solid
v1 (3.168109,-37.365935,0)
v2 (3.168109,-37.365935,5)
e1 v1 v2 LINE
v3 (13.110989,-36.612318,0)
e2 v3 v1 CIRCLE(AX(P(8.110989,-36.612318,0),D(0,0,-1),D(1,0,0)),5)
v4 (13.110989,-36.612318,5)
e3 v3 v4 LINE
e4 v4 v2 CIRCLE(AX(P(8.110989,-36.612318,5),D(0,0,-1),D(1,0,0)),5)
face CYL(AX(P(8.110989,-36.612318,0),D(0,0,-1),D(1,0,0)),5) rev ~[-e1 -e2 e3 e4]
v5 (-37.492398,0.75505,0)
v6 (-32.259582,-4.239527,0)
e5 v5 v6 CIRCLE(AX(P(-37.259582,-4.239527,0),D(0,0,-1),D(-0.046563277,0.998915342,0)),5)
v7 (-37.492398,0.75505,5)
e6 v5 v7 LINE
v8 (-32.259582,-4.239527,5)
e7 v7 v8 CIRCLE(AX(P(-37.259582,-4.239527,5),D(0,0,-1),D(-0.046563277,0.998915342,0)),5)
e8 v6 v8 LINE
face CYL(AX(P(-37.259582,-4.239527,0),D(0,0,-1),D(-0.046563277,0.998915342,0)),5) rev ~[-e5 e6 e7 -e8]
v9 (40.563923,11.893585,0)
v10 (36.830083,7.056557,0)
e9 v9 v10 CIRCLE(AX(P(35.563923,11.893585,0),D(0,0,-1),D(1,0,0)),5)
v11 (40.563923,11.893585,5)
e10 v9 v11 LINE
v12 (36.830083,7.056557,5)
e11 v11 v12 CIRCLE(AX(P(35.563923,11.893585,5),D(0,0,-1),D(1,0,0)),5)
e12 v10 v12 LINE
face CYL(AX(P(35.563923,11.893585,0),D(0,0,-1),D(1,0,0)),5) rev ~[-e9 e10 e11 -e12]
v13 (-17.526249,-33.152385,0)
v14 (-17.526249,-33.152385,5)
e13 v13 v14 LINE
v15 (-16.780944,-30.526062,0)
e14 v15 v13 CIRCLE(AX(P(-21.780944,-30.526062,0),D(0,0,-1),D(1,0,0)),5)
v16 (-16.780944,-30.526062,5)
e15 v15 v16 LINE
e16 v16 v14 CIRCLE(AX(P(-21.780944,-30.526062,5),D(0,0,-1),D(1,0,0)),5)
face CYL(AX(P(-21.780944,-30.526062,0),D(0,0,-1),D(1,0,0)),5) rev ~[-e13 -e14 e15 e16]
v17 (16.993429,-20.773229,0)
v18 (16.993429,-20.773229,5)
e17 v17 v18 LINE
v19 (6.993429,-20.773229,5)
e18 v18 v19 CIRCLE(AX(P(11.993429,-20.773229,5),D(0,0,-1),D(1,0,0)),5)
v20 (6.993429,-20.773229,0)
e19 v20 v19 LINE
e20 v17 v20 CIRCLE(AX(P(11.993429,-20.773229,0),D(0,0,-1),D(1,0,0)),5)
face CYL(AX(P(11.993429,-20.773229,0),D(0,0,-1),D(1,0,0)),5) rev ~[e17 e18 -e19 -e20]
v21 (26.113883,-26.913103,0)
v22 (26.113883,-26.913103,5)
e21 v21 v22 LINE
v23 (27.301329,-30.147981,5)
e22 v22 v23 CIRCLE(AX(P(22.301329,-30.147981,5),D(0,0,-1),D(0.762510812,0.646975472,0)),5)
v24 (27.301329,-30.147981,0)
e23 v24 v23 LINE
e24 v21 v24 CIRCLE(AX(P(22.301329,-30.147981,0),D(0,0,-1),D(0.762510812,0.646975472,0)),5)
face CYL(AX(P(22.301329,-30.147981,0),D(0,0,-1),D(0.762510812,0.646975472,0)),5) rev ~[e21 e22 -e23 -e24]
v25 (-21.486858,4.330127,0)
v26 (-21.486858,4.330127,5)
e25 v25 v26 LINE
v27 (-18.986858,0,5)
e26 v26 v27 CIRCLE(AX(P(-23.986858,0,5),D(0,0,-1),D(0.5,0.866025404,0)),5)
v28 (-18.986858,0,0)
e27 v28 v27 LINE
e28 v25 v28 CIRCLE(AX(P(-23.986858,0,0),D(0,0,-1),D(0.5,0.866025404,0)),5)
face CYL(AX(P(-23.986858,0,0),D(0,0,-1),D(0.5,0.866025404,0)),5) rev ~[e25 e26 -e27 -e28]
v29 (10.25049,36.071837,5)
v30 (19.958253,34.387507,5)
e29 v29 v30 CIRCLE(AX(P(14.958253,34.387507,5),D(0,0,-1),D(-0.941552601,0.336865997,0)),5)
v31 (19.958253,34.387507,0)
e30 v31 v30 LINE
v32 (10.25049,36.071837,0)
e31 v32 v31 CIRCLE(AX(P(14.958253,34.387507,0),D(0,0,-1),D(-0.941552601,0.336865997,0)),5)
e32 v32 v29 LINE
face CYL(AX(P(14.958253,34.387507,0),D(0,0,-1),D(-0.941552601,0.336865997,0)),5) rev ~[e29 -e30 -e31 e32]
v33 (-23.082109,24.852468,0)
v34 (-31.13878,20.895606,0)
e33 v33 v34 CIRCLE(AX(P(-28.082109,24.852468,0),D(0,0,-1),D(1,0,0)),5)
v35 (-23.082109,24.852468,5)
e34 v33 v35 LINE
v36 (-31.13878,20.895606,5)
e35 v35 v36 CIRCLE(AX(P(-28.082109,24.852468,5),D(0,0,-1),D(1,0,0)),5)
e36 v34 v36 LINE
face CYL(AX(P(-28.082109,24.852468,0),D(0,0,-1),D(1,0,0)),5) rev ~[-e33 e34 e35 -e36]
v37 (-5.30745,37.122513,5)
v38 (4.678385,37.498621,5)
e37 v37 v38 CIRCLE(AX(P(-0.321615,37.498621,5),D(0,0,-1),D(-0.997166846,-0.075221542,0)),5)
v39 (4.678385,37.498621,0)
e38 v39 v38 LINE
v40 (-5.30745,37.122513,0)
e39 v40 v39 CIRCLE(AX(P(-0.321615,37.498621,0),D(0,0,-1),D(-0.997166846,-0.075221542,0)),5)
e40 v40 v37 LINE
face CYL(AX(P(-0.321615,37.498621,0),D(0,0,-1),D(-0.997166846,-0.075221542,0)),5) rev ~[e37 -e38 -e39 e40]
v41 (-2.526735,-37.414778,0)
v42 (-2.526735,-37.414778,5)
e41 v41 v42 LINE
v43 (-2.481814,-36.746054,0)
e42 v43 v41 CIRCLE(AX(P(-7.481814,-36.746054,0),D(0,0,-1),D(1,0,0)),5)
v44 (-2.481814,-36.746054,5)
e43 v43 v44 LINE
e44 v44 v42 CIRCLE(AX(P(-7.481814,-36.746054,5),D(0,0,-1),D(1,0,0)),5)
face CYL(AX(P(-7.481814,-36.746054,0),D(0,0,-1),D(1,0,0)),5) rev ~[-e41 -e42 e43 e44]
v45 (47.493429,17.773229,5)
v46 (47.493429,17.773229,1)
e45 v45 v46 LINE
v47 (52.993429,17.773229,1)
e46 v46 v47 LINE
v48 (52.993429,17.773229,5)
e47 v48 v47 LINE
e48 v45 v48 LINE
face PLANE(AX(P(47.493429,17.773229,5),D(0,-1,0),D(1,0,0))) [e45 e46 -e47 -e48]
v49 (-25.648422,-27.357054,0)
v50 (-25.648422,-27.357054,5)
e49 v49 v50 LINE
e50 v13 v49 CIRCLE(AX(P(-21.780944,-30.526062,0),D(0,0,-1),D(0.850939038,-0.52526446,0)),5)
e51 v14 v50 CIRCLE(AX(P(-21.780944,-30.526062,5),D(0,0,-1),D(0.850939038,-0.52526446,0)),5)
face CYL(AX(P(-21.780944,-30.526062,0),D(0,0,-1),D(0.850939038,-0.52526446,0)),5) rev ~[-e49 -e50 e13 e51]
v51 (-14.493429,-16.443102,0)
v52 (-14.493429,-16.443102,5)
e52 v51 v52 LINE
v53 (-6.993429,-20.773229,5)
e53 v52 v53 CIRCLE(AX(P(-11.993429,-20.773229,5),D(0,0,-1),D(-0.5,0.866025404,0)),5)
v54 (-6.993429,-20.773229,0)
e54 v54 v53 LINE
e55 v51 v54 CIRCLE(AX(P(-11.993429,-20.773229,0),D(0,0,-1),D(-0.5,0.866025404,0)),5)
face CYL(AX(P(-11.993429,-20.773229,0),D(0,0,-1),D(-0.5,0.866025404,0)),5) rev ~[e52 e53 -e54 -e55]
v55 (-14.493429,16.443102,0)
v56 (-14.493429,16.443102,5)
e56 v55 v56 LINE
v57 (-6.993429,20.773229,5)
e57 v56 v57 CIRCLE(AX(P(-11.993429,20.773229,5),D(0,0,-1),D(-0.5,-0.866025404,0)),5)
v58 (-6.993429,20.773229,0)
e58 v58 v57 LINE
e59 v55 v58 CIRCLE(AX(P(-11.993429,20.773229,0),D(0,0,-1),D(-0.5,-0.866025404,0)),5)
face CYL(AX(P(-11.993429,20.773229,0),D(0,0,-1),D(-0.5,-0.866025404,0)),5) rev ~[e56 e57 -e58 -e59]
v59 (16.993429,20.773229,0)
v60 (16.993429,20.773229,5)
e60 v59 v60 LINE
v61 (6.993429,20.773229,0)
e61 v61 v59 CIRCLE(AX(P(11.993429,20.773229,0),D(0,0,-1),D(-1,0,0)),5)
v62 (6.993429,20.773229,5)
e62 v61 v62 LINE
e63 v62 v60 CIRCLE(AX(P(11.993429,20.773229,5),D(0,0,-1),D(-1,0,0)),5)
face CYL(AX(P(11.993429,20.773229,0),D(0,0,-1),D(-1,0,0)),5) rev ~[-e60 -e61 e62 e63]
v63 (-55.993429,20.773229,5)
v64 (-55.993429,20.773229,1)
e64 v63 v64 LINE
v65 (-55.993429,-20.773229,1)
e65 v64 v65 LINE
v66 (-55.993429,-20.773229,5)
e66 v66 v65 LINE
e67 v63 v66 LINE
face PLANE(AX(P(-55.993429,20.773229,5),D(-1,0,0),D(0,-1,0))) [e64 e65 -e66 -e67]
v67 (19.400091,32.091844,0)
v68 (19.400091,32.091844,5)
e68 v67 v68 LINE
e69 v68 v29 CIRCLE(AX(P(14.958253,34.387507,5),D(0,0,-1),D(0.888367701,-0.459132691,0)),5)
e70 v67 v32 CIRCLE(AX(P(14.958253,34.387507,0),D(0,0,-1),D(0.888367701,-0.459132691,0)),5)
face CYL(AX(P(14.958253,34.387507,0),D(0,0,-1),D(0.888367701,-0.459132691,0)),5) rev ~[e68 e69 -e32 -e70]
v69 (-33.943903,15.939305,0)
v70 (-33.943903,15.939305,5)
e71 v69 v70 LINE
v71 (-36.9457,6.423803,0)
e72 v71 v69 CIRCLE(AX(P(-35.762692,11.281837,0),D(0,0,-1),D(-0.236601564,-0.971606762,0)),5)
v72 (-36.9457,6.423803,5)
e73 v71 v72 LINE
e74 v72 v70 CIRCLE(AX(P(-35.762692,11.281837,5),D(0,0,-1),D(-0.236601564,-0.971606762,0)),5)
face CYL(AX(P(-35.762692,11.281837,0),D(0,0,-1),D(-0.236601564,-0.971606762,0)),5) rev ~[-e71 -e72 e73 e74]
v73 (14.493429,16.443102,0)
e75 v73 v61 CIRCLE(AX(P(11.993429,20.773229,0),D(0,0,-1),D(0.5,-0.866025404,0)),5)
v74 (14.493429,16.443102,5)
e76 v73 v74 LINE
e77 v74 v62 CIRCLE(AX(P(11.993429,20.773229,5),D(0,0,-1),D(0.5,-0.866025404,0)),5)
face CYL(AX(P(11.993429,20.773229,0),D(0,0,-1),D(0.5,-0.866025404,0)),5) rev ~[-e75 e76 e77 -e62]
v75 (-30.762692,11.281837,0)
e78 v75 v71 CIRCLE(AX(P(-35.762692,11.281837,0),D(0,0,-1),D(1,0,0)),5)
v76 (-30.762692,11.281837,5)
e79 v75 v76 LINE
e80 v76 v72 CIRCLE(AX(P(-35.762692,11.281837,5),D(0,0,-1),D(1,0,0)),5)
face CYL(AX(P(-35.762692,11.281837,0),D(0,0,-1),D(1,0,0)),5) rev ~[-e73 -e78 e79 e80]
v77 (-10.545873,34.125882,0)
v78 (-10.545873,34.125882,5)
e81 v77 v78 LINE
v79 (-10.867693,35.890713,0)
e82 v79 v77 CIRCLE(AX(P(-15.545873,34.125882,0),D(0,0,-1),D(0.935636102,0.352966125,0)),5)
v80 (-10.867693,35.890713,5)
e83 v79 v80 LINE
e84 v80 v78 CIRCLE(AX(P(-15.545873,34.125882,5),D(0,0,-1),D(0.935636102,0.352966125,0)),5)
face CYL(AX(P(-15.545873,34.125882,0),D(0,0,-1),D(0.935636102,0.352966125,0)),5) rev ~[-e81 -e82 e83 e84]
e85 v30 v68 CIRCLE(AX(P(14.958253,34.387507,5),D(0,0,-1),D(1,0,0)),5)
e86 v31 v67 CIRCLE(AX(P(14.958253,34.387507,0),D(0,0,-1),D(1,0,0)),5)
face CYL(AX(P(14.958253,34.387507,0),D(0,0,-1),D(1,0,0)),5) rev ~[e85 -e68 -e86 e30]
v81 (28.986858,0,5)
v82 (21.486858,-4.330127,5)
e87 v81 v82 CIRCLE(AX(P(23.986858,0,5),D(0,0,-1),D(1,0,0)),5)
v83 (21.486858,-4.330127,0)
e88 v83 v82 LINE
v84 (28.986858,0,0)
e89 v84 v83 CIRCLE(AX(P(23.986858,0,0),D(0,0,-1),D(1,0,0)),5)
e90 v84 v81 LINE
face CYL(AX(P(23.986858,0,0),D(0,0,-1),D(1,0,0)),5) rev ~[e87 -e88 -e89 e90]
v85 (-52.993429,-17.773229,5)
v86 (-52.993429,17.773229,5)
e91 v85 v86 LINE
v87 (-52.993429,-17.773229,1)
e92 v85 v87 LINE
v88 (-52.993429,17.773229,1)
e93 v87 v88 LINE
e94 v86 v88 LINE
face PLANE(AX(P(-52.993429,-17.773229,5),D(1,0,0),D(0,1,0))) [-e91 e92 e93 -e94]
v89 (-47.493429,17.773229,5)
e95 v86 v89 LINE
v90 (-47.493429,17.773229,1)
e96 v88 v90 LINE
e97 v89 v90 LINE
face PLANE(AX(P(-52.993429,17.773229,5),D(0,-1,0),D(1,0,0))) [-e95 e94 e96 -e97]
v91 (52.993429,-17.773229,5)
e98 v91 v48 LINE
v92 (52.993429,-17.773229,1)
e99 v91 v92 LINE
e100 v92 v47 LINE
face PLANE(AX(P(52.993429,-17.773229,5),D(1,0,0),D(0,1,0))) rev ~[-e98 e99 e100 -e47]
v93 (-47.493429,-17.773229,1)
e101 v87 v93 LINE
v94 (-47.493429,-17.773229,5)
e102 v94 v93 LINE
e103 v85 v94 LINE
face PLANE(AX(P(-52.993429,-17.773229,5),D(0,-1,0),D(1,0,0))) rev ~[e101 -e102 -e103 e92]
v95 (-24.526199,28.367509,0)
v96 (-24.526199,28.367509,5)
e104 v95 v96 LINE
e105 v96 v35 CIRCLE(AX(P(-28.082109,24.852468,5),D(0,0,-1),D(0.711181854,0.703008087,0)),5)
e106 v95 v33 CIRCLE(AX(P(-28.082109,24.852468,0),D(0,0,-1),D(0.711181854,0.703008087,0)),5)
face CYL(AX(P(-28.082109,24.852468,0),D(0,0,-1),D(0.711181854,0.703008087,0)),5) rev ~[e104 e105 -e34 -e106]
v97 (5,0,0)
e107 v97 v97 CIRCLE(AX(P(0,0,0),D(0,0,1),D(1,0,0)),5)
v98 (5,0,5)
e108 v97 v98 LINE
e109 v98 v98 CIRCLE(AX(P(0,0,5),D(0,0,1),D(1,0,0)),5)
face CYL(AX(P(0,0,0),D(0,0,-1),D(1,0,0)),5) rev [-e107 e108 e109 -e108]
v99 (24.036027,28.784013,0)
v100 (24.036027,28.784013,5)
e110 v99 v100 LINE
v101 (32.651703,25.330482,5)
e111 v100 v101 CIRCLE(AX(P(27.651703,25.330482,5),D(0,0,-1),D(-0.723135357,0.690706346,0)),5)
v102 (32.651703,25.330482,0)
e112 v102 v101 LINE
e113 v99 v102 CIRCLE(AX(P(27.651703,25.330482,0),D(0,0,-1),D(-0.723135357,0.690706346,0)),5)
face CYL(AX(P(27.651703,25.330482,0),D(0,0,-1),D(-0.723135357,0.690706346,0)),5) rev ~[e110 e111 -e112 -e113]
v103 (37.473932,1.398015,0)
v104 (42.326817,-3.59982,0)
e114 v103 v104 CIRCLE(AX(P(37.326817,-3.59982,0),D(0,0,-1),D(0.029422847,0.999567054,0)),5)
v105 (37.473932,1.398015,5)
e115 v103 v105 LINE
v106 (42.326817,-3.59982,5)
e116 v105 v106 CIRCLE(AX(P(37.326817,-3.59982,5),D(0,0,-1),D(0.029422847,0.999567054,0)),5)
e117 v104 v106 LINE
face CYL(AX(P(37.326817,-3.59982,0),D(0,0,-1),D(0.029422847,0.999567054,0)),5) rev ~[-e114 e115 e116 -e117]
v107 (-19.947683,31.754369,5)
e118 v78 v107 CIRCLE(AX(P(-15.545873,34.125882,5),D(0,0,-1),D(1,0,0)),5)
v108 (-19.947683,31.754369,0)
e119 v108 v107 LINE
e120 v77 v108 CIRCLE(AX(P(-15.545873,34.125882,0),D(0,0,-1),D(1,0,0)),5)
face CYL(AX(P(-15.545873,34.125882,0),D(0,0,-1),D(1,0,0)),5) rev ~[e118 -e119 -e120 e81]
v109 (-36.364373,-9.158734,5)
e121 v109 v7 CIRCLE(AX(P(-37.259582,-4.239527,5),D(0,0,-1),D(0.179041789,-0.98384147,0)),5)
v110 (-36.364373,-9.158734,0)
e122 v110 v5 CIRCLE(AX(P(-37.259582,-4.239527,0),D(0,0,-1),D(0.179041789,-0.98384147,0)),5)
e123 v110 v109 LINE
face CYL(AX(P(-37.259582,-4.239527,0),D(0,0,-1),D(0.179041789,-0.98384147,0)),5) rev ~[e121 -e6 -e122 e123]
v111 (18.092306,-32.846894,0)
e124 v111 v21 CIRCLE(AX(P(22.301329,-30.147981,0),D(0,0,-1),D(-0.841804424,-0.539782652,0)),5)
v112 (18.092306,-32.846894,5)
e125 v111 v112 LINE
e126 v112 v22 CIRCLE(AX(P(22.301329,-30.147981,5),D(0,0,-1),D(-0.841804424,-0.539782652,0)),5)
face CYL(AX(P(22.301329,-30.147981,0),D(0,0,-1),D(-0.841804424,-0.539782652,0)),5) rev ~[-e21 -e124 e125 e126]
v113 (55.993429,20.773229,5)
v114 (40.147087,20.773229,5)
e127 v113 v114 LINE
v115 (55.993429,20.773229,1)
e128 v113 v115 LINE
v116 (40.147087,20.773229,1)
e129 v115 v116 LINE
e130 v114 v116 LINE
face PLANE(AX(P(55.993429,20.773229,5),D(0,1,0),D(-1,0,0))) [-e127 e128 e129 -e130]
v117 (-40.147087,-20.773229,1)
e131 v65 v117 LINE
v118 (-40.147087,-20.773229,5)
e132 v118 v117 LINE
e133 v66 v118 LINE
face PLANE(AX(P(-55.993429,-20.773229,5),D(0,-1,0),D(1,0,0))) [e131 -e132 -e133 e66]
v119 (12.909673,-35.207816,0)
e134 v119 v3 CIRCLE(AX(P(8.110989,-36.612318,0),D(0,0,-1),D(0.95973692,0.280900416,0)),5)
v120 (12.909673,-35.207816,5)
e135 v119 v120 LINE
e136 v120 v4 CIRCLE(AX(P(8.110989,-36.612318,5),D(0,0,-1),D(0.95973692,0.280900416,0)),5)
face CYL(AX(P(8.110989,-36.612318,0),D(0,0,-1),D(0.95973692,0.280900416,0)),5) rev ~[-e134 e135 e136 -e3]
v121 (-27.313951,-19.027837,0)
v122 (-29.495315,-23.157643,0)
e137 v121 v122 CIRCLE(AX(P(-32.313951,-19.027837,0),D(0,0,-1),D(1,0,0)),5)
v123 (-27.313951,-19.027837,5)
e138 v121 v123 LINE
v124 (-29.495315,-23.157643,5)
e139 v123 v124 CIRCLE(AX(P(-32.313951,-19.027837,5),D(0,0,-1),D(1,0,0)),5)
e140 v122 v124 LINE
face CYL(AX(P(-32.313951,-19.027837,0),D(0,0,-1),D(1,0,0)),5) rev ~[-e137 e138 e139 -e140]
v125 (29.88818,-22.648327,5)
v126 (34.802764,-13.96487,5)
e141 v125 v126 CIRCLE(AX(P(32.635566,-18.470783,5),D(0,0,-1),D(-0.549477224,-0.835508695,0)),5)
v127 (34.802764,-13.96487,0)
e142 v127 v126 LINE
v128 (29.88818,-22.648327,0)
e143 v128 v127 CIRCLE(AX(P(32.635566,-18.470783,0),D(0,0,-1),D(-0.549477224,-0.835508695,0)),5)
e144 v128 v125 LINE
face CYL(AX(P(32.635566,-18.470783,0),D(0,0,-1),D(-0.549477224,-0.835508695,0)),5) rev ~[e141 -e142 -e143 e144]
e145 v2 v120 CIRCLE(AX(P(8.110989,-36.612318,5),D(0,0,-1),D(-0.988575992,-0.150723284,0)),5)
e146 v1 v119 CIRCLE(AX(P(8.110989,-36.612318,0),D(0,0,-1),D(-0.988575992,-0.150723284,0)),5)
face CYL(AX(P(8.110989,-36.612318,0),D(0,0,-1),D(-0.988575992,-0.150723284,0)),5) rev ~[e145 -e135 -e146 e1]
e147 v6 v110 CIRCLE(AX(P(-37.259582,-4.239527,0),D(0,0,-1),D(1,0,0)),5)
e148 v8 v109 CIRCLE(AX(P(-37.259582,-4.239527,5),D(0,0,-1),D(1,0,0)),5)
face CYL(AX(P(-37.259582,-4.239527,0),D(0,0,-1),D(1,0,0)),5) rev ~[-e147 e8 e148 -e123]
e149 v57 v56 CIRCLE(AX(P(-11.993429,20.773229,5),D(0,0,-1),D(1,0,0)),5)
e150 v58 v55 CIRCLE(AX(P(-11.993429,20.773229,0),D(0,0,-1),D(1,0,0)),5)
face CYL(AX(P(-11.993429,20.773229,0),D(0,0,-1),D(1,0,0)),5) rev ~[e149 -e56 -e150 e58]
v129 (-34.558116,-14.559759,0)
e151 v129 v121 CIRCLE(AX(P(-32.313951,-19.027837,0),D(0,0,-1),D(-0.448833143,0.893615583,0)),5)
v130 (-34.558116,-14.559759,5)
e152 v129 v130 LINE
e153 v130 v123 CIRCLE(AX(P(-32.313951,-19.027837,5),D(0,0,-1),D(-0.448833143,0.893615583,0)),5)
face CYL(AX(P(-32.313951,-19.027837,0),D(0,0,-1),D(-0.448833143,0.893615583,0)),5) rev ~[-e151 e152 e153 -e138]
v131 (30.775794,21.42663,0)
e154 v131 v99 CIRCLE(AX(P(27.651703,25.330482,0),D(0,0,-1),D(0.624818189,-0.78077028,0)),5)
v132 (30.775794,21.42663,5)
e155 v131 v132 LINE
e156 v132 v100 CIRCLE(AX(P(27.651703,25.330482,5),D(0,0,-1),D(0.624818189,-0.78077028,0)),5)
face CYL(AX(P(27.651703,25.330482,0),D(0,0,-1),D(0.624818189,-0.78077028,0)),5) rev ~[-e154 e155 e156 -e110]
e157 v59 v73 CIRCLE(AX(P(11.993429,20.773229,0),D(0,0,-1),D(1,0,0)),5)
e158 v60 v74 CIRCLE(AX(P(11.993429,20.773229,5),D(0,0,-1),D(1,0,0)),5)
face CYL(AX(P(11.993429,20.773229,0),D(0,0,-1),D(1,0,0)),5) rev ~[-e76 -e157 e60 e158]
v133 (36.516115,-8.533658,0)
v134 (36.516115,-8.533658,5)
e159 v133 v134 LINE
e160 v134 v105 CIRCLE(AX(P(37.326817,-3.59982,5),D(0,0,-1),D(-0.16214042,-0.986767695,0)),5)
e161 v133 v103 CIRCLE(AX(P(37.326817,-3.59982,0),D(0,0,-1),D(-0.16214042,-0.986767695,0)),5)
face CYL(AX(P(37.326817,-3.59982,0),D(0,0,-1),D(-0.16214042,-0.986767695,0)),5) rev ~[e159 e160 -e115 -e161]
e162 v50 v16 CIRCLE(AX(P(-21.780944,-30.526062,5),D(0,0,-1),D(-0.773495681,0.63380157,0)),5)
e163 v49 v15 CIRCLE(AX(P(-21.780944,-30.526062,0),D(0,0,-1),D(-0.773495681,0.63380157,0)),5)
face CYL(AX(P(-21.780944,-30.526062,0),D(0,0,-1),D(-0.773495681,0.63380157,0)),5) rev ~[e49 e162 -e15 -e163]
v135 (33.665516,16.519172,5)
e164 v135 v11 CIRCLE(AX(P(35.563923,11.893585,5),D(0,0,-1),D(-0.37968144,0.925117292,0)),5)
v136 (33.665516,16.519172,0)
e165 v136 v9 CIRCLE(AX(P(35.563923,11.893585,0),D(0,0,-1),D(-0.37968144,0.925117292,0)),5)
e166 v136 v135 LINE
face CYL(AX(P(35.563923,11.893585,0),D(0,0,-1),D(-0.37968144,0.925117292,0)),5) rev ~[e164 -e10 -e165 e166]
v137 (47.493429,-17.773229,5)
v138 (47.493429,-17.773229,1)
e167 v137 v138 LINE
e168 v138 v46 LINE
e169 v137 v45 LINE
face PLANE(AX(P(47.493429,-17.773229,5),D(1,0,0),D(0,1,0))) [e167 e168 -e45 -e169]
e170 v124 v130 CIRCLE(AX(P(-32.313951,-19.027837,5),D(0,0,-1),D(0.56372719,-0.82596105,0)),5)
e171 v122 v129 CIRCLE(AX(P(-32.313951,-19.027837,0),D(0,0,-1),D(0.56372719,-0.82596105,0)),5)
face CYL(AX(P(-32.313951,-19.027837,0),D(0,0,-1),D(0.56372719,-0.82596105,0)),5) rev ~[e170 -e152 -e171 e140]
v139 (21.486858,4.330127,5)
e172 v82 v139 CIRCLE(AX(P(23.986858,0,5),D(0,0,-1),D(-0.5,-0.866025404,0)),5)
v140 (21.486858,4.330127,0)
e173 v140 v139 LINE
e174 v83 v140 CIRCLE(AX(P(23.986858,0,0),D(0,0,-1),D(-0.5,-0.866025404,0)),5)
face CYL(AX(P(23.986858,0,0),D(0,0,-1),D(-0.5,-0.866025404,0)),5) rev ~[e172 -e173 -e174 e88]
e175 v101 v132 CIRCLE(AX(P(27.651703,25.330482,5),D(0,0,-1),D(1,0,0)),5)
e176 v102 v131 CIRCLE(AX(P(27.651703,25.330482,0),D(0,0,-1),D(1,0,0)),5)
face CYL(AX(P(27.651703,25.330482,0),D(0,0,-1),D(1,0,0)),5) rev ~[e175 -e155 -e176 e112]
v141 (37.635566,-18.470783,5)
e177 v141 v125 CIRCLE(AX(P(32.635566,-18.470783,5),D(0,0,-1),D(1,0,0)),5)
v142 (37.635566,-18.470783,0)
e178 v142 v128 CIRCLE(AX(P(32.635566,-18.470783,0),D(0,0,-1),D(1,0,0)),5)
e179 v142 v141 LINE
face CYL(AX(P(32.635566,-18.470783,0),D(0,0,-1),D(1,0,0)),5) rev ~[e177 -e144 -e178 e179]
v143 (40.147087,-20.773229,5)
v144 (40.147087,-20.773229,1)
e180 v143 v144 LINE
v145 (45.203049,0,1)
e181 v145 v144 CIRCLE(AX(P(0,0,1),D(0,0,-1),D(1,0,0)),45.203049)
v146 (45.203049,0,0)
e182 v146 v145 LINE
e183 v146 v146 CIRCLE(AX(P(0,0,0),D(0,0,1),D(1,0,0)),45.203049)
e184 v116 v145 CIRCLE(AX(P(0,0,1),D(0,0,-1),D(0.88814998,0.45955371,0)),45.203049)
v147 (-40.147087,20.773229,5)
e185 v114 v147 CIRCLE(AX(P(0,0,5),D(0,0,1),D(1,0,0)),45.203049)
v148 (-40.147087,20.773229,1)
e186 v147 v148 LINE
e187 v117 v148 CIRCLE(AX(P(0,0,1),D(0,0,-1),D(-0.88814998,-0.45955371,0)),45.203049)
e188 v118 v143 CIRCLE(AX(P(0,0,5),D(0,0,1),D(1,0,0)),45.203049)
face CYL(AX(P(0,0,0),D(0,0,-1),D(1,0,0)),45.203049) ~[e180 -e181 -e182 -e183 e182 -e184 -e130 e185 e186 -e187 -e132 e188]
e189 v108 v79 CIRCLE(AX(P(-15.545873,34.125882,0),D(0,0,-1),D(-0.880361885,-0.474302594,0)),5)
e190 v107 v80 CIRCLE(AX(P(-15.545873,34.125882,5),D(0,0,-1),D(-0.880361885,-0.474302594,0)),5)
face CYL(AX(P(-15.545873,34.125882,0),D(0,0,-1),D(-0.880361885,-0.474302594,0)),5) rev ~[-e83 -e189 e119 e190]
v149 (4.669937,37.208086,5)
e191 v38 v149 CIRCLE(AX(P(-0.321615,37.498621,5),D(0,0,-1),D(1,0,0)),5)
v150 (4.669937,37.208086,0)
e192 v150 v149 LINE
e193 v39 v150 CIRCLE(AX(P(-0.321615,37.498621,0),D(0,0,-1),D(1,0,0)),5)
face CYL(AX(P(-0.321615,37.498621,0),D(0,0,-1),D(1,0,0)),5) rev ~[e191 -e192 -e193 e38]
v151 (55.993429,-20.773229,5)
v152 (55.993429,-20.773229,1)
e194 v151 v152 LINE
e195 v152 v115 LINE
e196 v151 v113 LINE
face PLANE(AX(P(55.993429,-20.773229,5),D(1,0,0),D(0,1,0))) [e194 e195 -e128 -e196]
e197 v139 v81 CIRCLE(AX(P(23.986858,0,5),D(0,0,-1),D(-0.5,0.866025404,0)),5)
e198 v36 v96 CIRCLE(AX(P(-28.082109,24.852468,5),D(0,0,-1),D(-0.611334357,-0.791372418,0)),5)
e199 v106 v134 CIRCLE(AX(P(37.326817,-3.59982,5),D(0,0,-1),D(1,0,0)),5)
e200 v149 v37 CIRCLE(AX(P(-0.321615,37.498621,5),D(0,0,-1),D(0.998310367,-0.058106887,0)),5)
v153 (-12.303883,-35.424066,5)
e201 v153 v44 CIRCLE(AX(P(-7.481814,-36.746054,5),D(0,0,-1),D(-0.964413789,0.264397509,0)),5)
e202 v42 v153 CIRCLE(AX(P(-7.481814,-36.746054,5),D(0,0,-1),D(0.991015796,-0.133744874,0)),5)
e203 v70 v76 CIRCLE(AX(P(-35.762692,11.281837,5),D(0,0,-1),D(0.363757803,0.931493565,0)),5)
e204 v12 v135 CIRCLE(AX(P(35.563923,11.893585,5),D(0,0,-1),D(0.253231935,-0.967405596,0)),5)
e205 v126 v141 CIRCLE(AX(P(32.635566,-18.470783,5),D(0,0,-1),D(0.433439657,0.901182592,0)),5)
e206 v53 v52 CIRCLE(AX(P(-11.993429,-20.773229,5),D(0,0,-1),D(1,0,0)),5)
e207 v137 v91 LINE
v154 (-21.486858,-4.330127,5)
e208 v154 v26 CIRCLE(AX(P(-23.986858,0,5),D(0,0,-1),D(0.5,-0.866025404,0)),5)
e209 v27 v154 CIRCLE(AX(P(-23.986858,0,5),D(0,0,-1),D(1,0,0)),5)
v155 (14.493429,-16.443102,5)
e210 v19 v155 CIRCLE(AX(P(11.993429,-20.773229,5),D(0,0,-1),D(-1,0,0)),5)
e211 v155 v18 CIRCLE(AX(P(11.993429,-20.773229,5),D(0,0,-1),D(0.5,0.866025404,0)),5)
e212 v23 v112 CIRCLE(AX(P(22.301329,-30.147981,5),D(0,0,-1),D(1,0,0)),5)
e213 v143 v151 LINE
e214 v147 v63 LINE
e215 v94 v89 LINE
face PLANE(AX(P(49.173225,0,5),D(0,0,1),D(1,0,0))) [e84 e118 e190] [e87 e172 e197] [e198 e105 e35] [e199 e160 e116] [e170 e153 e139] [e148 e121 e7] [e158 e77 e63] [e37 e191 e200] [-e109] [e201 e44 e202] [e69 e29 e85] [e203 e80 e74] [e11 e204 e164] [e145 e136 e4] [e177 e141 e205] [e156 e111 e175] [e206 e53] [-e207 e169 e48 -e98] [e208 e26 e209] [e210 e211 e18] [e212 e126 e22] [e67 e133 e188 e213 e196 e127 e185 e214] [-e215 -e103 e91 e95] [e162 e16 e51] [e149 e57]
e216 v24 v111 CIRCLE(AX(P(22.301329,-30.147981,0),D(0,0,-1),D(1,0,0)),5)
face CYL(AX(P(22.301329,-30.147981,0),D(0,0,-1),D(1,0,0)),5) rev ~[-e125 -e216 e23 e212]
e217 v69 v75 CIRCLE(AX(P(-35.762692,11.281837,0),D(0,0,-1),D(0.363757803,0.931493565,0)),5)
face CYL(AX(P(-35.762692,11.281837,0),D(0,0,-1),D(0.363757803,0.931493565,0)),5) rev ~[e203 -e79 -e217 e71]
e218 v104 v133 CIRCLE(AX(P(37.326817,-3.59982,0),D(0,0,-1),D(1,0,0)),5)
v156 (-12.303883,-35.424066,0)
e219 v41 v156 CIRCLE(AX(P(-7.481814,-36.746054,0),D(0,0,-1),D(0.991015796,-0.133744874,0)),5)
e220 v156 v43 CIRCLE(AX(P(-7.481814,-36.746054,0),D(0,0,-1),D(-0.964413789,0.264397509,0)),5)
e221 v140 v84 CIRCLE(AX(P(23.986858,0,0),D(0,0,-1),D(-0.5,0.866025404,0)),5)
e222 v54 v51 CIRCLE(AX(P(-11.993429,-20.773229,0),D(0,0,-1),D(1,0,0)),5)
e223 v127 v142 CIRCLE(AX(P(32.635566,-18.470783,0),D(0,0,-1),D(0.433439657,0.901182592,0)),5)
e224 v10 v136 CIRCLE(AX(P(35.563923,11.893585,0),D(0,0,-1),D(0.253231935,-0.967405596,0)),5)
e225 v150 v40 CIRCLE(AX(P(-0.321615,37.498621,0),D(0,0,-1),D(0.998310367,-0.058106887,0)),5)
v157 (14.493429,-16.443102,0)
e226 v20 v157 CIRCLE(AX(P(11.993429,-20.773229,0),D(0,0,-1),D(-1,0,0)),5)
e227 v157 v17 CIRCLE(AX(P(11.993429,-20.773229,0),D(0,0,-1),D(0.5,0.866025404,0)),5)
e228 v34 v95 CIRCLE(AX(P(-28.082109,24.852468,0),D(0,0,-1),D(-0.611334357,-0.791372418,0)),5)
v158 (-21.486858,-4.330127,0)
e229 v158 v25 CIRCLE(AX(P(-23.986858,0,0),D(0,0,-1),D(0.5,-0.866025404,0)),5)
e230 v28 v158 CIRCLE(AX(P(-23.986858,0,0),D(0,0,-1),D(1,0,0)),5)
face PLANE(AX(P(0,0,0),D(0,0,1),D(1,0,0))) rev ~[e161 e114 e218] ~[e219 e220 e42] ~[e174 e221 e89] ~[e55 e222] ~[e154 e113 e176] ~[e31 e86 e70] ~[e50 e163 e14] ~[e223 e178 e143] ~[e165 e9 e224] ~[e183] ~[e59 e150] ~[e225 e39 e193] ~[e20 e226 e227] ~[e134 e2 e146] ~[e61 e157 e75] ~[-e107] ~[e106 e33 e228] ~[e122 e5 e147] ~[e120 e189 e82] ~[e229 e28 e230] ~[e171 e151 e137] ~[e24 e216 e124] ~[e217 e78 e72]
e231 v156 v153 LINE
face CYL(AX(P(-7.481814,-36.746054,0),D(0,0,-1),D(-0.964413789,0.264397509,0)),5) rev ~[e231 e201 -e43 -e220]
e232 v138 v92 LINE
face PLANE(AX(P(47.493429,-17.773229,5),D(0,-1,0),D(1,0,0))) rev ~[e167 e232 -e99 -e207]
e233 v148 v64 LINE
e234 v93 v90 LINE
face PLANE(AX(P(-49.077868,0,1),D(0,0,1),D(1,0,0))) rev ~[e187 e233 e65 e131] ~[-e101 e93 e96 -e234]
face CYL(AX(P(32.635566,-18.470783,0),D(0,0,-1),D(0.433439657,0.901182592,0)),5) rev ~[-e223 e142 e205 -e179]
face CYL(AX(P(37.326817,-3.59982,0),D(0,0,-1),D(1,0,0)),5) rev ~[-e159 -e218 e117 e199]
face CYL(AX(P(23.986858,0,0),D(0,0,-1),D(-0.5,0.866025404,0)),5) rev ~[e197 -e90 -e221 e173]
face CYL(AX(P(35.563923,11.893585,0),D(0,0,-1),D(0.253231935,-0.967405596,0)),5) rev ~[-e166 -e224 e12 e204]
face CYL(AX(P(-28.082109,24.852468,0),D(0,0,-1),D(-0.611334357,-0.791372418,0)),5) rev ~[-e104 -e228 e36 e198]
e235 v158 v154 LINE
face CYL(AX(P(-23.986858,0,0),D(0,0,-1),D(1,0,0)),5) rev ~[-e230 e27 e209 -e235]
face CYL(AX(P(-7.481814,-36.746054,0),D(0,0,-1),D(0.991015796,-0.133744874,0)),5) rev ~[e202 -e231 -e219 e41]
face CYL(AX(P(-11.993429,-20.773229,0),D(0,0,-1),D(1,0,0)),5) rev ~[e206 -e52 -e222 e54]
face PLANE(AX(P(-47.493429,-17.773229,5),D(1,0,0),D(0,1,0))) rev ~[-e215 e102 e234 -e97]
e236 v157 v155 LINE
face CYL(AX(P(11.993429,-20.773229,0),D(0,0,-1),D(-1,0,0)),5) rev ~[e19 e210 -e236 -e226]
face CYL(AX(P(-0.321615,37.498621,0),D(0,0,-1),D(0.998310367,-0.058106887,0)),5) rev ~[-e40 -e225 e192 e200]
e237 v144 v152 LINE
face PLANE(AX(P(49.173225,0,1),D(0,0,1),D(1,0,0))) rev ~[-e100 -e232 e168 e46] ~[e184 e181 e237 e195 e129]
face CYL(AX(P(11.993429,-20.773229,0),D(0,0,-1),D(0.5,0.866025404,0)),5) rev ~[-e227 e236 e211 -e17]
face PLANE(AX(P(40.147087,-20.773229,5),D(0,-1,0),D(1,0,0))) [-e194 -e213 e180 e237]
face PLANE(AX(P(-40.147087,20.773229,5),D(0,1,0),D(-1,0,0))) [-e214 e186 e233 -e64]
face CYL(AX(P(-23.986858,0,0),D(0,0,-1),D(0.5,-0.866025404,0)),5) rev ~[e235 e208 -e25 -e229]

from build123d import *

# Parameters (mm, degrees)
F0_R     = 45.2030485361
F0_R_2   = 5
F1_DEPTH = 5
F2_W     = 5.5
F2_H     = 35.5464573561
F3_DEPTH = 4


with BuildPart() as f1:
    # F0 (on Top) → F1 (new body)
    with BuildSketch(Plane.XY):
        Circle(F0_R)
        with BuildLine():
            ThreePointArc((36.8300827761, 7.0565574258), (37.2595815037, 4.2395266444), (37.4739316415, 1.3980154974))
            ThreePointArc((37.4739316415, 1.3980154974), (40.9139869844, -0.1166869301), (42.3268174051, -3.5998197741))
            ThreePointArc((42.3268174051, -3.5998197741), (40.5630566958, -7.4112178448), (36.5161153038, -8.5336582497))
            ThreePointArc((36.5161153038, -8.5336582497), (35.762692272, -11.2818367947), (34.8027641615, -13.9648704513))
            ThreePointArc((34.8027641615, -13.9648704513), (36.8685312345, -15.8095798691), (37.6355658781, -18.470783411))
            ThreePointArc((37.6355658781, -18.470783411), (35.0086513584, -22.8717452721), (29.8881797569, -22.6483268879))
            ThreePointArc((29.8881797569, -22.6483268879), (28.0821086525, -24.8524681597), (26.1138825848, -26.9131034321))
            ThreePointArc((26.1138825848, -26.9131034321), (26.9950887613, -28.4250139192), (27.3013285259, -30.1479807944))
            ThreePointArc((27.3013285259, -30.1479807944), (23.7075449731, -34.9461632944), (18.0923064045, -32.8468940536))
            ThreePointArc((18.0923064045, -32.8468940536), (15.5458733291, -34.1258820023), (12.909673472, -35.2078163317))
            ThreePointArc((12.909673472, -35.2078163317), (13.0604041393, -35.9028901243), (13.1109888705, -36.6123184126))
            ThreePointArc((13.1109888705, -36.6123184126), (8.4888778779, -41.5980179521), (3.1681089112, -37.3659348328))
            ThreePointArc((3.1681089112, -37.3659348328), (0.3216152773, -37.4986208228), (-2.5267354648, -37.4147779345))
            ThreePointArc((-2.5267354648, -37.4147779345), (-8.4793897063, -41.6455273734), (-12.3038833941, -35.4240660205))
            ThreePointArc((-12.3038833941, -35.4240660205), (-14.9582529778, -34.3875074388), (-17.5262488851, -33.1523845299))
            ThreePointArc((-17.5262488851, -33.1523845299), (-24.6850699528, -34.5962038586), (-25.6484224833, -27.3570543758))
            ThreePointArc((-25.6484224833, -27.3570543758), (-27.6517034015, -25.3304816179), (-29.4953146521, -23.1576426601))
            ThreePointArc((-29.4953146521, -23.1576426601), (-36.6224773476, -21.5648824), (-34.5581163166, -14.5597594984))
            ThreePointArc((-34.5581163166, -14.5597594984), (-35.5639230993, -11.8935854051), (-36.3643725593, -9.1587339938))
            ThreePointArc((-36.3643725593, -9.1587339938), (-42.2275257042, -4.8047968637), (-37.492397888, 0.7550500675))
            ThreePointArc((-37.492397888, 0.7550500675), (-37.3268174051, 3.5998197741), (-36.945700091, 6.4238029846))
            ThreePointArc((-36.945700091, 6.4238029846), (-40.5310512416, 12.7860817006), (-33.943903257, 15.9393046173))
            ThreePointArc((-33.943903257, 15.9393046173), (-32.6355658781, 18.470783411), (-31.1387804359, 20.8956060684))
            ThreePointArc((-31.1387804359, 20.8956060684), (-31.8263898062, 28.166130581), (-24.526199382, 28.3675085947))
            ThreePointArc((-24.526199382, 28.3675085947), (-22.3013285259, 30.1479807944), (-19.9476827564, 31.7543690325))
            ThreePointArc((-19.9476827564, 31.7543690325), (-17.6186564397, 38.6759996026), (-10.8676928205, 35.8907126254))
            ThreePointArc((-10.8676928205, 35.8907126254), (-8.1109888705, 36.6123184126), (-5.3074495093, 37.1225131114))
            ThreePointArc((-5.3074495093, 37.1225131114), (-0.5098024711, 42.4950781258), (4.6783847227, 37.4986208228))
            ThreePointArc((4.6783847227, 37.4986208228), (4.6762722357, 37.3532922036), (4.6699365597, 37.2080863863))
            ThreePointArc((4.6699365597, 37.2080863863), (7.4818144468, 36.7460535648), (10.2504899745, 36.0718374259))
            ThreePointArc((10.2504899745, 36.0718374259), (15.8130000116, 39.3139064795), (19.9582529778, 34.3875074388))
            ThreePointArc((19.9582529778, 34.3875074388), (19.8167091384, 33.2062353552), (19.4000914836, 32.0918439861))
            ThreePointArc((19.4000914836, 32.0918439861), (21.780944076, 30.5260622282), (24.036026619, 28.7840133471))
            ThreePointArc((24.036026619, 28.7840133471), (29.5120281161, 29.9715151188), (32.6517034015, 25.3304816179))
            ThreePointArc((32.6517034015, 25.3304816179), (32.1583903621, 23.1648933284), (30.7757943457, 21.4266302155))
            ThreePointArc((30.7757943457, 21.4266302155), (32.3139506008, 19.0278374118), (33.6655159007, 16.5191718661))
            ThreePointArc((33.6655159007, 16.5191718661), (38.3485203778, 16.046417932), (40.5639230993, 11.8935854051))
            ThreePointArc((40.5639230993, 11.8935854051), (39.5218770141, 8.8383275096), (36.8300827761, 7.0565574258))
        make_face(mode=Mode.SUBTRACT)
        with BuildLine():
            ThreePointArc((36.5161153038, -8.5336582497), (32.3499084178, -3.1198438042), (37.4739316415, 1.3980154974))
            ThreePointArc((37.4739316415, 1.3980154974), (37.2595815037, 4.2395266444), (36.8300827761, 7.0565574258))
            ThreePointArc((36.8300827761, 7.0565574258), (30.822066686, 10.3077740177), (33.6655159007, 16.5191718661))
            ThreePointArc((33.6655159007, 16.5191718661), (32.3139506008, 19.0278374118), (30.7757943457, 21.4266302155))
            ThreePointArc((30.7757943457, 21.4266302155), (23.9648096146, 21.9530840689), (24.036026619, 28.7840133471))
            ThreePointArc((24.036026619, 28.7840133471), (21.780944076, 30.5260622282), (19.4000914836, 32.0918439861))
            ThreePointArc((19.4000914836, 32.0918439861), (12.9638192474, 29.802506447), (10.2504899745, 36.0718374259))
            ThreePointArc((10.2504899745, 36.0718374259), (7.4818144468, 36.7460535648), (4.6699365597, 37.2080863863))
            ThreePointArc((4.6699365597, 37.2080863863), (-0.2787332403, 32.4988047131), (-5.3074495093, 37.1225131114))
            ThreePointArc((-5.3074495093, 37.1225131114), (-8.1109888705, 36.6123184126), (-10.8676928205, 35.8907126254))
            ThreePointArc((-10.8676928205, 35.8907126254), (-10.6269861306, 35.0228484054), (-10.5458733291, 34.1258820023))
            ThreePointArc((-10.5458733291, 34.1258820023), (-14.3229765911, 29.2777355969), (-19.9476827564, 31.7543690325))
            ThreePointArc((-19.9476827564, 31.7543690325), (-22.3013285259, 30.1479807944), (-24.526199382, 28.3675085947))
            ThreePointArc((-24.526199382, 28.3675085947), (-23.4572007425, 26.7525278492), (-23.0821086525, 24.8524681597))
            ThreePointArc((-23.0821086525, 24.8524681597), (-25.8779488258, 20.3645199137), (-31.1387804359, 20.8956060684))
            ThreePointArc((-31.1387804359, 20.8956060684), (-32.6355658781, 18.470783411), (-33.943903257, 15.9393046173))
            ThreePointArc((-33.943903257, 15.9393046173), (-31.6338943189, 14.1019480447), (-30.762692272, 11.2818367947))
            ThreePointArc((-30.762692272, 11.2818367947), (-32.6736017177, 7.3502315821), (-36.945700091, 6.4238029846))
            ThreePointArc((-36.945700091, 6.4238029846), (-37.3268174051, 3.5998197741), (-37.492397888, 0.7550500675))
            ThreePointArc((-37.492397888, 0.7550500675), (-33.8073417903, -0.6226162279), (-32.2595815037, -4.2395266444))
            ThreePointArc((-32.2595815037, -4.2395266444), (-33.4205683022, -7.4429588099), (-36.3643725593, -9.1587339938))
            ThreePointArc((-36.3643725593, -9.1587339938), (-35.5639230993, -11.8935854051), (-34.5581163166, -14.5597594984))
            ThreePointArc((-34.5581163166, -14.5597594984), (-29.6891485681, -14.7722041699), (-27.3139506008, -19.0278374118))
            ThreePointArc((-27.3139506008, -19.0278374118), (-27.8927980506, -21.3630911728), (-29.4953146521, -23.1576426601))
            ThreePointArc((-29.4953146521, -23.1576426601), (-27.6517034015, -25.3304816179), (-25.6484224833, -27.3570543758))
            ThreePointArc((-25.6484224833, -27.3570543758), (-20.0982961682, -25.8176977544), (-16.780944076, -30.5260622282))
            ThreePointArc((-16.780944076, -30.5260622282), (-16.9708777586, -31.8910757896), (-17.5262488851, -33.1523845299))
            ThreePointArc((-17.5262488851, -33.1523845299), (-14.9582529778, -34.3875074388), (-12.3038833941, -35.4240660205))
            ThreePointArc((-12.3038833941, -35.4240660205), (-6.8148604516, -31.7907359798), (-2.4818144468, -36.7460535648))
            ThreePointArc((-2.4818144468, -36.7460535648), (-2.4930573415, -37.0811692838), (-2.5267354648, -37.4147779345))
            ThreePointArc((-2.5267354648, -37.4147779345), (0.3216152773, -37.4986208228), (3.1681089112, -37.3659348328))
            ThreePointArc((3.1681089112, -37.3659348328), (7.0295236877, -31.7306759576), (12.909673472, -35.2078163317))
            ThreePointArc((12.909673472, -35.2078163317), (15.5458733291, -34.1258820023), (18.0923064045, -32.8468940536))
            ThreePointArc((18.0923064045, -32.8468940536), (19.3278180558, -26.1282500218), (26.1138825848, -26.9131034321))
            ThreePointArc((26.1138825848, -26.9131034321), (28.0821086525, -24.8524681597), (29.8881797569, -22.6483268879))
            ThreePointArc((29.8881797569, -22.6483268879), (28.2841570943, -16.0080122895), (34.8027641615, -13.9648704513))
            ThreePointArc((34.8027641615, -13.9648704513), (35.762692272, -11.2818367947), (36.5161153038, -8.5336582497))
        make_face()
        with BuildLine():
            ThreePointArc((-14.4934291692, 16.4431016591), (-14.4934291692, 25.103355697), (-6.9934291692, 20.7732286781))
            Line((-6.9934291692, 20.7732286781), (6.9934291692, 20.7732286781))
            ThreePointArc((6.9934291692, 20.7732286781), (11.9934291692, 25.7732286781), (16.9934291692, 20.7732286781))
            ThreePointArc((16.9934291692, 20.7732286781), (16.3235561881, 18.2732286781), (14.4934291692, 16.4431016591))
            Line((14.4934291692, 16.4431016591), (21.4868583384, 4.3301270189))
            ThreePointArc((21.4868583384, 4.3301270189), (26.4868583384, 4.3301270189), (28.9868583384, 0))
            ThreePointArc((28.9868583384, 0), (26.4868583384, -4.3301270189), (21.4868583384, -4.3301270189))
            Line((21.4868583384, -4.3301270189), (14.4934291692, -16.4431016591))
            ThreePointArc((14.4934291692, -16.4431016591), (16.3235561881, -18.2732286781), (16.9934291692, -20.7732286781))
            ThreePointArc((16.9934291692, -20.7732286781), (11.9934291692, -25.7732286781), (6.9934291692, -20.7732286781))
            Line((6.9934291692, -20.7732286781), (-6.9934291692, -20.7732286781))
            ThreePointArc((-6.9934291692, -20.7732286781), (-14.4934291692, -25.103355697), (-14.4934291692, -16.4431016591))
            Line((-14.4934291692, -16.4431016591), (-21.4868583384, -4.3301270189))
            ThreePointArc((-21.4868583384, -4.3301270189), (-28.9868583384, 0), (-21.4868583384, 4.3301270189))
            Line((-21.4868583384, 4.3301270189), (-14.4934291692, 16.4431016591))
        make_face(mode=Mode.SUBTRACT)
        with BuildLine():
            Line((6.9934291692, 20.7732286781), (-6.9934291692, 20.7732286781))
            ThreePointArc((-6.9934291692, 20.7732286781), (-9.4934291692, 16.4431016591), (-14.4934291692, 16.4431016591))
            Line((-14.4934291692, 16.4431016591), (-21.4868583384, 4.3301270189))
            ThreePointArc((-21.4868583384, 4.3301270189), (-19.6567313195, 2.5), (-18.9868583384, 0))
            ThreePointArc((-18.9868583384, 0), (-19.6567313195, -2.5), (-21.4868583384, -4.3301270189))
            Line((-21.4868583384, -4.3301270189), (-14.4934291692, -16.4431016591))
            ThreePointArc((-14.4934291692, -16.4431016591), (-9.4934291692, -16.4431016591), (-6.9934291692, -20.7732286781))
            Line((-6.9934291692, -20.7732286781), (6.9934291692, -20.7732286781))
            ThreePointArc((6.9934291692, -20.7732286781), (9.4934291692, -16.4431016591), (14.4934291692, -16.4431016591))
            Line((14.4934291692, -16.4431016591), (21.4868583384, -4.3301270189))
            ThreePointArc((21.4868583384, -4.3301270189), (18.9868583384, 0), (21.4868583384, 4.3301270189))
            Line((21.4868583384, 4.3301270189), (14.4934291692, 16.4431016591))
            ThreePointArc((14.4934291692, 16.4431016591), (9.4934291692, 16.4431016591), (6.9934291692, 20.7732286781))
        make_face()
        Circle(F0_R_2, mode=Mode.SUBTRACT)
    extrude(amount=F1_DEPTH)

    # F2 (on face) → F3 (join)
    with BuildSketch(Plane.XY.offset(5)):
        with BuildLine():
            ThreePointArc((-40.1470866595, -20.7732286781), (-45.2030485361, 0), (-40.1470866595, 20.7732286781))
            Line((-40.1470866595, 20.7732286781), (-55.9934291692, 20.7732286781))
            Line((-55.9934291692, 20.7732286781), (-55.9934291692, -20.7732286781))
            Line((-55.9934291692, -20.7732286781), (-40.1470866595, -20.7732286781))
        make_face()
        with Locations((-50.2434291692, 0)):
            Rectangle(F2_W, F2_H, mode=Mode.SUBTRACT)
        with BuildLine():
            ThreePointArc((40.1470866595, 20.7732286781), (43.9208737607, 10.6898290469), (45.2030485361, 0))
            ThreePointArc((45.2030485361, 0), (43.9208737607, -10.6898290469), (40.1470866595, -20.7732286781))
            Line((40.1470866595, -20.7732286781), (55.9934291692, -20.7732286781))
            Line((55.9934291692, -20.7732286781), (55.9934291692, 20.7732286781))
            Line((55.9934291692, 20.7732286781), (40.1470866595, 20.7732286781))
        make_face()
        with Locations((50.2434291692, 0)):
            Rectangle(F2_W, F2_H, mode=Mode.SUBTRACT)
    extrude(amount=-F3_DEPTH)


solid = f1.part
